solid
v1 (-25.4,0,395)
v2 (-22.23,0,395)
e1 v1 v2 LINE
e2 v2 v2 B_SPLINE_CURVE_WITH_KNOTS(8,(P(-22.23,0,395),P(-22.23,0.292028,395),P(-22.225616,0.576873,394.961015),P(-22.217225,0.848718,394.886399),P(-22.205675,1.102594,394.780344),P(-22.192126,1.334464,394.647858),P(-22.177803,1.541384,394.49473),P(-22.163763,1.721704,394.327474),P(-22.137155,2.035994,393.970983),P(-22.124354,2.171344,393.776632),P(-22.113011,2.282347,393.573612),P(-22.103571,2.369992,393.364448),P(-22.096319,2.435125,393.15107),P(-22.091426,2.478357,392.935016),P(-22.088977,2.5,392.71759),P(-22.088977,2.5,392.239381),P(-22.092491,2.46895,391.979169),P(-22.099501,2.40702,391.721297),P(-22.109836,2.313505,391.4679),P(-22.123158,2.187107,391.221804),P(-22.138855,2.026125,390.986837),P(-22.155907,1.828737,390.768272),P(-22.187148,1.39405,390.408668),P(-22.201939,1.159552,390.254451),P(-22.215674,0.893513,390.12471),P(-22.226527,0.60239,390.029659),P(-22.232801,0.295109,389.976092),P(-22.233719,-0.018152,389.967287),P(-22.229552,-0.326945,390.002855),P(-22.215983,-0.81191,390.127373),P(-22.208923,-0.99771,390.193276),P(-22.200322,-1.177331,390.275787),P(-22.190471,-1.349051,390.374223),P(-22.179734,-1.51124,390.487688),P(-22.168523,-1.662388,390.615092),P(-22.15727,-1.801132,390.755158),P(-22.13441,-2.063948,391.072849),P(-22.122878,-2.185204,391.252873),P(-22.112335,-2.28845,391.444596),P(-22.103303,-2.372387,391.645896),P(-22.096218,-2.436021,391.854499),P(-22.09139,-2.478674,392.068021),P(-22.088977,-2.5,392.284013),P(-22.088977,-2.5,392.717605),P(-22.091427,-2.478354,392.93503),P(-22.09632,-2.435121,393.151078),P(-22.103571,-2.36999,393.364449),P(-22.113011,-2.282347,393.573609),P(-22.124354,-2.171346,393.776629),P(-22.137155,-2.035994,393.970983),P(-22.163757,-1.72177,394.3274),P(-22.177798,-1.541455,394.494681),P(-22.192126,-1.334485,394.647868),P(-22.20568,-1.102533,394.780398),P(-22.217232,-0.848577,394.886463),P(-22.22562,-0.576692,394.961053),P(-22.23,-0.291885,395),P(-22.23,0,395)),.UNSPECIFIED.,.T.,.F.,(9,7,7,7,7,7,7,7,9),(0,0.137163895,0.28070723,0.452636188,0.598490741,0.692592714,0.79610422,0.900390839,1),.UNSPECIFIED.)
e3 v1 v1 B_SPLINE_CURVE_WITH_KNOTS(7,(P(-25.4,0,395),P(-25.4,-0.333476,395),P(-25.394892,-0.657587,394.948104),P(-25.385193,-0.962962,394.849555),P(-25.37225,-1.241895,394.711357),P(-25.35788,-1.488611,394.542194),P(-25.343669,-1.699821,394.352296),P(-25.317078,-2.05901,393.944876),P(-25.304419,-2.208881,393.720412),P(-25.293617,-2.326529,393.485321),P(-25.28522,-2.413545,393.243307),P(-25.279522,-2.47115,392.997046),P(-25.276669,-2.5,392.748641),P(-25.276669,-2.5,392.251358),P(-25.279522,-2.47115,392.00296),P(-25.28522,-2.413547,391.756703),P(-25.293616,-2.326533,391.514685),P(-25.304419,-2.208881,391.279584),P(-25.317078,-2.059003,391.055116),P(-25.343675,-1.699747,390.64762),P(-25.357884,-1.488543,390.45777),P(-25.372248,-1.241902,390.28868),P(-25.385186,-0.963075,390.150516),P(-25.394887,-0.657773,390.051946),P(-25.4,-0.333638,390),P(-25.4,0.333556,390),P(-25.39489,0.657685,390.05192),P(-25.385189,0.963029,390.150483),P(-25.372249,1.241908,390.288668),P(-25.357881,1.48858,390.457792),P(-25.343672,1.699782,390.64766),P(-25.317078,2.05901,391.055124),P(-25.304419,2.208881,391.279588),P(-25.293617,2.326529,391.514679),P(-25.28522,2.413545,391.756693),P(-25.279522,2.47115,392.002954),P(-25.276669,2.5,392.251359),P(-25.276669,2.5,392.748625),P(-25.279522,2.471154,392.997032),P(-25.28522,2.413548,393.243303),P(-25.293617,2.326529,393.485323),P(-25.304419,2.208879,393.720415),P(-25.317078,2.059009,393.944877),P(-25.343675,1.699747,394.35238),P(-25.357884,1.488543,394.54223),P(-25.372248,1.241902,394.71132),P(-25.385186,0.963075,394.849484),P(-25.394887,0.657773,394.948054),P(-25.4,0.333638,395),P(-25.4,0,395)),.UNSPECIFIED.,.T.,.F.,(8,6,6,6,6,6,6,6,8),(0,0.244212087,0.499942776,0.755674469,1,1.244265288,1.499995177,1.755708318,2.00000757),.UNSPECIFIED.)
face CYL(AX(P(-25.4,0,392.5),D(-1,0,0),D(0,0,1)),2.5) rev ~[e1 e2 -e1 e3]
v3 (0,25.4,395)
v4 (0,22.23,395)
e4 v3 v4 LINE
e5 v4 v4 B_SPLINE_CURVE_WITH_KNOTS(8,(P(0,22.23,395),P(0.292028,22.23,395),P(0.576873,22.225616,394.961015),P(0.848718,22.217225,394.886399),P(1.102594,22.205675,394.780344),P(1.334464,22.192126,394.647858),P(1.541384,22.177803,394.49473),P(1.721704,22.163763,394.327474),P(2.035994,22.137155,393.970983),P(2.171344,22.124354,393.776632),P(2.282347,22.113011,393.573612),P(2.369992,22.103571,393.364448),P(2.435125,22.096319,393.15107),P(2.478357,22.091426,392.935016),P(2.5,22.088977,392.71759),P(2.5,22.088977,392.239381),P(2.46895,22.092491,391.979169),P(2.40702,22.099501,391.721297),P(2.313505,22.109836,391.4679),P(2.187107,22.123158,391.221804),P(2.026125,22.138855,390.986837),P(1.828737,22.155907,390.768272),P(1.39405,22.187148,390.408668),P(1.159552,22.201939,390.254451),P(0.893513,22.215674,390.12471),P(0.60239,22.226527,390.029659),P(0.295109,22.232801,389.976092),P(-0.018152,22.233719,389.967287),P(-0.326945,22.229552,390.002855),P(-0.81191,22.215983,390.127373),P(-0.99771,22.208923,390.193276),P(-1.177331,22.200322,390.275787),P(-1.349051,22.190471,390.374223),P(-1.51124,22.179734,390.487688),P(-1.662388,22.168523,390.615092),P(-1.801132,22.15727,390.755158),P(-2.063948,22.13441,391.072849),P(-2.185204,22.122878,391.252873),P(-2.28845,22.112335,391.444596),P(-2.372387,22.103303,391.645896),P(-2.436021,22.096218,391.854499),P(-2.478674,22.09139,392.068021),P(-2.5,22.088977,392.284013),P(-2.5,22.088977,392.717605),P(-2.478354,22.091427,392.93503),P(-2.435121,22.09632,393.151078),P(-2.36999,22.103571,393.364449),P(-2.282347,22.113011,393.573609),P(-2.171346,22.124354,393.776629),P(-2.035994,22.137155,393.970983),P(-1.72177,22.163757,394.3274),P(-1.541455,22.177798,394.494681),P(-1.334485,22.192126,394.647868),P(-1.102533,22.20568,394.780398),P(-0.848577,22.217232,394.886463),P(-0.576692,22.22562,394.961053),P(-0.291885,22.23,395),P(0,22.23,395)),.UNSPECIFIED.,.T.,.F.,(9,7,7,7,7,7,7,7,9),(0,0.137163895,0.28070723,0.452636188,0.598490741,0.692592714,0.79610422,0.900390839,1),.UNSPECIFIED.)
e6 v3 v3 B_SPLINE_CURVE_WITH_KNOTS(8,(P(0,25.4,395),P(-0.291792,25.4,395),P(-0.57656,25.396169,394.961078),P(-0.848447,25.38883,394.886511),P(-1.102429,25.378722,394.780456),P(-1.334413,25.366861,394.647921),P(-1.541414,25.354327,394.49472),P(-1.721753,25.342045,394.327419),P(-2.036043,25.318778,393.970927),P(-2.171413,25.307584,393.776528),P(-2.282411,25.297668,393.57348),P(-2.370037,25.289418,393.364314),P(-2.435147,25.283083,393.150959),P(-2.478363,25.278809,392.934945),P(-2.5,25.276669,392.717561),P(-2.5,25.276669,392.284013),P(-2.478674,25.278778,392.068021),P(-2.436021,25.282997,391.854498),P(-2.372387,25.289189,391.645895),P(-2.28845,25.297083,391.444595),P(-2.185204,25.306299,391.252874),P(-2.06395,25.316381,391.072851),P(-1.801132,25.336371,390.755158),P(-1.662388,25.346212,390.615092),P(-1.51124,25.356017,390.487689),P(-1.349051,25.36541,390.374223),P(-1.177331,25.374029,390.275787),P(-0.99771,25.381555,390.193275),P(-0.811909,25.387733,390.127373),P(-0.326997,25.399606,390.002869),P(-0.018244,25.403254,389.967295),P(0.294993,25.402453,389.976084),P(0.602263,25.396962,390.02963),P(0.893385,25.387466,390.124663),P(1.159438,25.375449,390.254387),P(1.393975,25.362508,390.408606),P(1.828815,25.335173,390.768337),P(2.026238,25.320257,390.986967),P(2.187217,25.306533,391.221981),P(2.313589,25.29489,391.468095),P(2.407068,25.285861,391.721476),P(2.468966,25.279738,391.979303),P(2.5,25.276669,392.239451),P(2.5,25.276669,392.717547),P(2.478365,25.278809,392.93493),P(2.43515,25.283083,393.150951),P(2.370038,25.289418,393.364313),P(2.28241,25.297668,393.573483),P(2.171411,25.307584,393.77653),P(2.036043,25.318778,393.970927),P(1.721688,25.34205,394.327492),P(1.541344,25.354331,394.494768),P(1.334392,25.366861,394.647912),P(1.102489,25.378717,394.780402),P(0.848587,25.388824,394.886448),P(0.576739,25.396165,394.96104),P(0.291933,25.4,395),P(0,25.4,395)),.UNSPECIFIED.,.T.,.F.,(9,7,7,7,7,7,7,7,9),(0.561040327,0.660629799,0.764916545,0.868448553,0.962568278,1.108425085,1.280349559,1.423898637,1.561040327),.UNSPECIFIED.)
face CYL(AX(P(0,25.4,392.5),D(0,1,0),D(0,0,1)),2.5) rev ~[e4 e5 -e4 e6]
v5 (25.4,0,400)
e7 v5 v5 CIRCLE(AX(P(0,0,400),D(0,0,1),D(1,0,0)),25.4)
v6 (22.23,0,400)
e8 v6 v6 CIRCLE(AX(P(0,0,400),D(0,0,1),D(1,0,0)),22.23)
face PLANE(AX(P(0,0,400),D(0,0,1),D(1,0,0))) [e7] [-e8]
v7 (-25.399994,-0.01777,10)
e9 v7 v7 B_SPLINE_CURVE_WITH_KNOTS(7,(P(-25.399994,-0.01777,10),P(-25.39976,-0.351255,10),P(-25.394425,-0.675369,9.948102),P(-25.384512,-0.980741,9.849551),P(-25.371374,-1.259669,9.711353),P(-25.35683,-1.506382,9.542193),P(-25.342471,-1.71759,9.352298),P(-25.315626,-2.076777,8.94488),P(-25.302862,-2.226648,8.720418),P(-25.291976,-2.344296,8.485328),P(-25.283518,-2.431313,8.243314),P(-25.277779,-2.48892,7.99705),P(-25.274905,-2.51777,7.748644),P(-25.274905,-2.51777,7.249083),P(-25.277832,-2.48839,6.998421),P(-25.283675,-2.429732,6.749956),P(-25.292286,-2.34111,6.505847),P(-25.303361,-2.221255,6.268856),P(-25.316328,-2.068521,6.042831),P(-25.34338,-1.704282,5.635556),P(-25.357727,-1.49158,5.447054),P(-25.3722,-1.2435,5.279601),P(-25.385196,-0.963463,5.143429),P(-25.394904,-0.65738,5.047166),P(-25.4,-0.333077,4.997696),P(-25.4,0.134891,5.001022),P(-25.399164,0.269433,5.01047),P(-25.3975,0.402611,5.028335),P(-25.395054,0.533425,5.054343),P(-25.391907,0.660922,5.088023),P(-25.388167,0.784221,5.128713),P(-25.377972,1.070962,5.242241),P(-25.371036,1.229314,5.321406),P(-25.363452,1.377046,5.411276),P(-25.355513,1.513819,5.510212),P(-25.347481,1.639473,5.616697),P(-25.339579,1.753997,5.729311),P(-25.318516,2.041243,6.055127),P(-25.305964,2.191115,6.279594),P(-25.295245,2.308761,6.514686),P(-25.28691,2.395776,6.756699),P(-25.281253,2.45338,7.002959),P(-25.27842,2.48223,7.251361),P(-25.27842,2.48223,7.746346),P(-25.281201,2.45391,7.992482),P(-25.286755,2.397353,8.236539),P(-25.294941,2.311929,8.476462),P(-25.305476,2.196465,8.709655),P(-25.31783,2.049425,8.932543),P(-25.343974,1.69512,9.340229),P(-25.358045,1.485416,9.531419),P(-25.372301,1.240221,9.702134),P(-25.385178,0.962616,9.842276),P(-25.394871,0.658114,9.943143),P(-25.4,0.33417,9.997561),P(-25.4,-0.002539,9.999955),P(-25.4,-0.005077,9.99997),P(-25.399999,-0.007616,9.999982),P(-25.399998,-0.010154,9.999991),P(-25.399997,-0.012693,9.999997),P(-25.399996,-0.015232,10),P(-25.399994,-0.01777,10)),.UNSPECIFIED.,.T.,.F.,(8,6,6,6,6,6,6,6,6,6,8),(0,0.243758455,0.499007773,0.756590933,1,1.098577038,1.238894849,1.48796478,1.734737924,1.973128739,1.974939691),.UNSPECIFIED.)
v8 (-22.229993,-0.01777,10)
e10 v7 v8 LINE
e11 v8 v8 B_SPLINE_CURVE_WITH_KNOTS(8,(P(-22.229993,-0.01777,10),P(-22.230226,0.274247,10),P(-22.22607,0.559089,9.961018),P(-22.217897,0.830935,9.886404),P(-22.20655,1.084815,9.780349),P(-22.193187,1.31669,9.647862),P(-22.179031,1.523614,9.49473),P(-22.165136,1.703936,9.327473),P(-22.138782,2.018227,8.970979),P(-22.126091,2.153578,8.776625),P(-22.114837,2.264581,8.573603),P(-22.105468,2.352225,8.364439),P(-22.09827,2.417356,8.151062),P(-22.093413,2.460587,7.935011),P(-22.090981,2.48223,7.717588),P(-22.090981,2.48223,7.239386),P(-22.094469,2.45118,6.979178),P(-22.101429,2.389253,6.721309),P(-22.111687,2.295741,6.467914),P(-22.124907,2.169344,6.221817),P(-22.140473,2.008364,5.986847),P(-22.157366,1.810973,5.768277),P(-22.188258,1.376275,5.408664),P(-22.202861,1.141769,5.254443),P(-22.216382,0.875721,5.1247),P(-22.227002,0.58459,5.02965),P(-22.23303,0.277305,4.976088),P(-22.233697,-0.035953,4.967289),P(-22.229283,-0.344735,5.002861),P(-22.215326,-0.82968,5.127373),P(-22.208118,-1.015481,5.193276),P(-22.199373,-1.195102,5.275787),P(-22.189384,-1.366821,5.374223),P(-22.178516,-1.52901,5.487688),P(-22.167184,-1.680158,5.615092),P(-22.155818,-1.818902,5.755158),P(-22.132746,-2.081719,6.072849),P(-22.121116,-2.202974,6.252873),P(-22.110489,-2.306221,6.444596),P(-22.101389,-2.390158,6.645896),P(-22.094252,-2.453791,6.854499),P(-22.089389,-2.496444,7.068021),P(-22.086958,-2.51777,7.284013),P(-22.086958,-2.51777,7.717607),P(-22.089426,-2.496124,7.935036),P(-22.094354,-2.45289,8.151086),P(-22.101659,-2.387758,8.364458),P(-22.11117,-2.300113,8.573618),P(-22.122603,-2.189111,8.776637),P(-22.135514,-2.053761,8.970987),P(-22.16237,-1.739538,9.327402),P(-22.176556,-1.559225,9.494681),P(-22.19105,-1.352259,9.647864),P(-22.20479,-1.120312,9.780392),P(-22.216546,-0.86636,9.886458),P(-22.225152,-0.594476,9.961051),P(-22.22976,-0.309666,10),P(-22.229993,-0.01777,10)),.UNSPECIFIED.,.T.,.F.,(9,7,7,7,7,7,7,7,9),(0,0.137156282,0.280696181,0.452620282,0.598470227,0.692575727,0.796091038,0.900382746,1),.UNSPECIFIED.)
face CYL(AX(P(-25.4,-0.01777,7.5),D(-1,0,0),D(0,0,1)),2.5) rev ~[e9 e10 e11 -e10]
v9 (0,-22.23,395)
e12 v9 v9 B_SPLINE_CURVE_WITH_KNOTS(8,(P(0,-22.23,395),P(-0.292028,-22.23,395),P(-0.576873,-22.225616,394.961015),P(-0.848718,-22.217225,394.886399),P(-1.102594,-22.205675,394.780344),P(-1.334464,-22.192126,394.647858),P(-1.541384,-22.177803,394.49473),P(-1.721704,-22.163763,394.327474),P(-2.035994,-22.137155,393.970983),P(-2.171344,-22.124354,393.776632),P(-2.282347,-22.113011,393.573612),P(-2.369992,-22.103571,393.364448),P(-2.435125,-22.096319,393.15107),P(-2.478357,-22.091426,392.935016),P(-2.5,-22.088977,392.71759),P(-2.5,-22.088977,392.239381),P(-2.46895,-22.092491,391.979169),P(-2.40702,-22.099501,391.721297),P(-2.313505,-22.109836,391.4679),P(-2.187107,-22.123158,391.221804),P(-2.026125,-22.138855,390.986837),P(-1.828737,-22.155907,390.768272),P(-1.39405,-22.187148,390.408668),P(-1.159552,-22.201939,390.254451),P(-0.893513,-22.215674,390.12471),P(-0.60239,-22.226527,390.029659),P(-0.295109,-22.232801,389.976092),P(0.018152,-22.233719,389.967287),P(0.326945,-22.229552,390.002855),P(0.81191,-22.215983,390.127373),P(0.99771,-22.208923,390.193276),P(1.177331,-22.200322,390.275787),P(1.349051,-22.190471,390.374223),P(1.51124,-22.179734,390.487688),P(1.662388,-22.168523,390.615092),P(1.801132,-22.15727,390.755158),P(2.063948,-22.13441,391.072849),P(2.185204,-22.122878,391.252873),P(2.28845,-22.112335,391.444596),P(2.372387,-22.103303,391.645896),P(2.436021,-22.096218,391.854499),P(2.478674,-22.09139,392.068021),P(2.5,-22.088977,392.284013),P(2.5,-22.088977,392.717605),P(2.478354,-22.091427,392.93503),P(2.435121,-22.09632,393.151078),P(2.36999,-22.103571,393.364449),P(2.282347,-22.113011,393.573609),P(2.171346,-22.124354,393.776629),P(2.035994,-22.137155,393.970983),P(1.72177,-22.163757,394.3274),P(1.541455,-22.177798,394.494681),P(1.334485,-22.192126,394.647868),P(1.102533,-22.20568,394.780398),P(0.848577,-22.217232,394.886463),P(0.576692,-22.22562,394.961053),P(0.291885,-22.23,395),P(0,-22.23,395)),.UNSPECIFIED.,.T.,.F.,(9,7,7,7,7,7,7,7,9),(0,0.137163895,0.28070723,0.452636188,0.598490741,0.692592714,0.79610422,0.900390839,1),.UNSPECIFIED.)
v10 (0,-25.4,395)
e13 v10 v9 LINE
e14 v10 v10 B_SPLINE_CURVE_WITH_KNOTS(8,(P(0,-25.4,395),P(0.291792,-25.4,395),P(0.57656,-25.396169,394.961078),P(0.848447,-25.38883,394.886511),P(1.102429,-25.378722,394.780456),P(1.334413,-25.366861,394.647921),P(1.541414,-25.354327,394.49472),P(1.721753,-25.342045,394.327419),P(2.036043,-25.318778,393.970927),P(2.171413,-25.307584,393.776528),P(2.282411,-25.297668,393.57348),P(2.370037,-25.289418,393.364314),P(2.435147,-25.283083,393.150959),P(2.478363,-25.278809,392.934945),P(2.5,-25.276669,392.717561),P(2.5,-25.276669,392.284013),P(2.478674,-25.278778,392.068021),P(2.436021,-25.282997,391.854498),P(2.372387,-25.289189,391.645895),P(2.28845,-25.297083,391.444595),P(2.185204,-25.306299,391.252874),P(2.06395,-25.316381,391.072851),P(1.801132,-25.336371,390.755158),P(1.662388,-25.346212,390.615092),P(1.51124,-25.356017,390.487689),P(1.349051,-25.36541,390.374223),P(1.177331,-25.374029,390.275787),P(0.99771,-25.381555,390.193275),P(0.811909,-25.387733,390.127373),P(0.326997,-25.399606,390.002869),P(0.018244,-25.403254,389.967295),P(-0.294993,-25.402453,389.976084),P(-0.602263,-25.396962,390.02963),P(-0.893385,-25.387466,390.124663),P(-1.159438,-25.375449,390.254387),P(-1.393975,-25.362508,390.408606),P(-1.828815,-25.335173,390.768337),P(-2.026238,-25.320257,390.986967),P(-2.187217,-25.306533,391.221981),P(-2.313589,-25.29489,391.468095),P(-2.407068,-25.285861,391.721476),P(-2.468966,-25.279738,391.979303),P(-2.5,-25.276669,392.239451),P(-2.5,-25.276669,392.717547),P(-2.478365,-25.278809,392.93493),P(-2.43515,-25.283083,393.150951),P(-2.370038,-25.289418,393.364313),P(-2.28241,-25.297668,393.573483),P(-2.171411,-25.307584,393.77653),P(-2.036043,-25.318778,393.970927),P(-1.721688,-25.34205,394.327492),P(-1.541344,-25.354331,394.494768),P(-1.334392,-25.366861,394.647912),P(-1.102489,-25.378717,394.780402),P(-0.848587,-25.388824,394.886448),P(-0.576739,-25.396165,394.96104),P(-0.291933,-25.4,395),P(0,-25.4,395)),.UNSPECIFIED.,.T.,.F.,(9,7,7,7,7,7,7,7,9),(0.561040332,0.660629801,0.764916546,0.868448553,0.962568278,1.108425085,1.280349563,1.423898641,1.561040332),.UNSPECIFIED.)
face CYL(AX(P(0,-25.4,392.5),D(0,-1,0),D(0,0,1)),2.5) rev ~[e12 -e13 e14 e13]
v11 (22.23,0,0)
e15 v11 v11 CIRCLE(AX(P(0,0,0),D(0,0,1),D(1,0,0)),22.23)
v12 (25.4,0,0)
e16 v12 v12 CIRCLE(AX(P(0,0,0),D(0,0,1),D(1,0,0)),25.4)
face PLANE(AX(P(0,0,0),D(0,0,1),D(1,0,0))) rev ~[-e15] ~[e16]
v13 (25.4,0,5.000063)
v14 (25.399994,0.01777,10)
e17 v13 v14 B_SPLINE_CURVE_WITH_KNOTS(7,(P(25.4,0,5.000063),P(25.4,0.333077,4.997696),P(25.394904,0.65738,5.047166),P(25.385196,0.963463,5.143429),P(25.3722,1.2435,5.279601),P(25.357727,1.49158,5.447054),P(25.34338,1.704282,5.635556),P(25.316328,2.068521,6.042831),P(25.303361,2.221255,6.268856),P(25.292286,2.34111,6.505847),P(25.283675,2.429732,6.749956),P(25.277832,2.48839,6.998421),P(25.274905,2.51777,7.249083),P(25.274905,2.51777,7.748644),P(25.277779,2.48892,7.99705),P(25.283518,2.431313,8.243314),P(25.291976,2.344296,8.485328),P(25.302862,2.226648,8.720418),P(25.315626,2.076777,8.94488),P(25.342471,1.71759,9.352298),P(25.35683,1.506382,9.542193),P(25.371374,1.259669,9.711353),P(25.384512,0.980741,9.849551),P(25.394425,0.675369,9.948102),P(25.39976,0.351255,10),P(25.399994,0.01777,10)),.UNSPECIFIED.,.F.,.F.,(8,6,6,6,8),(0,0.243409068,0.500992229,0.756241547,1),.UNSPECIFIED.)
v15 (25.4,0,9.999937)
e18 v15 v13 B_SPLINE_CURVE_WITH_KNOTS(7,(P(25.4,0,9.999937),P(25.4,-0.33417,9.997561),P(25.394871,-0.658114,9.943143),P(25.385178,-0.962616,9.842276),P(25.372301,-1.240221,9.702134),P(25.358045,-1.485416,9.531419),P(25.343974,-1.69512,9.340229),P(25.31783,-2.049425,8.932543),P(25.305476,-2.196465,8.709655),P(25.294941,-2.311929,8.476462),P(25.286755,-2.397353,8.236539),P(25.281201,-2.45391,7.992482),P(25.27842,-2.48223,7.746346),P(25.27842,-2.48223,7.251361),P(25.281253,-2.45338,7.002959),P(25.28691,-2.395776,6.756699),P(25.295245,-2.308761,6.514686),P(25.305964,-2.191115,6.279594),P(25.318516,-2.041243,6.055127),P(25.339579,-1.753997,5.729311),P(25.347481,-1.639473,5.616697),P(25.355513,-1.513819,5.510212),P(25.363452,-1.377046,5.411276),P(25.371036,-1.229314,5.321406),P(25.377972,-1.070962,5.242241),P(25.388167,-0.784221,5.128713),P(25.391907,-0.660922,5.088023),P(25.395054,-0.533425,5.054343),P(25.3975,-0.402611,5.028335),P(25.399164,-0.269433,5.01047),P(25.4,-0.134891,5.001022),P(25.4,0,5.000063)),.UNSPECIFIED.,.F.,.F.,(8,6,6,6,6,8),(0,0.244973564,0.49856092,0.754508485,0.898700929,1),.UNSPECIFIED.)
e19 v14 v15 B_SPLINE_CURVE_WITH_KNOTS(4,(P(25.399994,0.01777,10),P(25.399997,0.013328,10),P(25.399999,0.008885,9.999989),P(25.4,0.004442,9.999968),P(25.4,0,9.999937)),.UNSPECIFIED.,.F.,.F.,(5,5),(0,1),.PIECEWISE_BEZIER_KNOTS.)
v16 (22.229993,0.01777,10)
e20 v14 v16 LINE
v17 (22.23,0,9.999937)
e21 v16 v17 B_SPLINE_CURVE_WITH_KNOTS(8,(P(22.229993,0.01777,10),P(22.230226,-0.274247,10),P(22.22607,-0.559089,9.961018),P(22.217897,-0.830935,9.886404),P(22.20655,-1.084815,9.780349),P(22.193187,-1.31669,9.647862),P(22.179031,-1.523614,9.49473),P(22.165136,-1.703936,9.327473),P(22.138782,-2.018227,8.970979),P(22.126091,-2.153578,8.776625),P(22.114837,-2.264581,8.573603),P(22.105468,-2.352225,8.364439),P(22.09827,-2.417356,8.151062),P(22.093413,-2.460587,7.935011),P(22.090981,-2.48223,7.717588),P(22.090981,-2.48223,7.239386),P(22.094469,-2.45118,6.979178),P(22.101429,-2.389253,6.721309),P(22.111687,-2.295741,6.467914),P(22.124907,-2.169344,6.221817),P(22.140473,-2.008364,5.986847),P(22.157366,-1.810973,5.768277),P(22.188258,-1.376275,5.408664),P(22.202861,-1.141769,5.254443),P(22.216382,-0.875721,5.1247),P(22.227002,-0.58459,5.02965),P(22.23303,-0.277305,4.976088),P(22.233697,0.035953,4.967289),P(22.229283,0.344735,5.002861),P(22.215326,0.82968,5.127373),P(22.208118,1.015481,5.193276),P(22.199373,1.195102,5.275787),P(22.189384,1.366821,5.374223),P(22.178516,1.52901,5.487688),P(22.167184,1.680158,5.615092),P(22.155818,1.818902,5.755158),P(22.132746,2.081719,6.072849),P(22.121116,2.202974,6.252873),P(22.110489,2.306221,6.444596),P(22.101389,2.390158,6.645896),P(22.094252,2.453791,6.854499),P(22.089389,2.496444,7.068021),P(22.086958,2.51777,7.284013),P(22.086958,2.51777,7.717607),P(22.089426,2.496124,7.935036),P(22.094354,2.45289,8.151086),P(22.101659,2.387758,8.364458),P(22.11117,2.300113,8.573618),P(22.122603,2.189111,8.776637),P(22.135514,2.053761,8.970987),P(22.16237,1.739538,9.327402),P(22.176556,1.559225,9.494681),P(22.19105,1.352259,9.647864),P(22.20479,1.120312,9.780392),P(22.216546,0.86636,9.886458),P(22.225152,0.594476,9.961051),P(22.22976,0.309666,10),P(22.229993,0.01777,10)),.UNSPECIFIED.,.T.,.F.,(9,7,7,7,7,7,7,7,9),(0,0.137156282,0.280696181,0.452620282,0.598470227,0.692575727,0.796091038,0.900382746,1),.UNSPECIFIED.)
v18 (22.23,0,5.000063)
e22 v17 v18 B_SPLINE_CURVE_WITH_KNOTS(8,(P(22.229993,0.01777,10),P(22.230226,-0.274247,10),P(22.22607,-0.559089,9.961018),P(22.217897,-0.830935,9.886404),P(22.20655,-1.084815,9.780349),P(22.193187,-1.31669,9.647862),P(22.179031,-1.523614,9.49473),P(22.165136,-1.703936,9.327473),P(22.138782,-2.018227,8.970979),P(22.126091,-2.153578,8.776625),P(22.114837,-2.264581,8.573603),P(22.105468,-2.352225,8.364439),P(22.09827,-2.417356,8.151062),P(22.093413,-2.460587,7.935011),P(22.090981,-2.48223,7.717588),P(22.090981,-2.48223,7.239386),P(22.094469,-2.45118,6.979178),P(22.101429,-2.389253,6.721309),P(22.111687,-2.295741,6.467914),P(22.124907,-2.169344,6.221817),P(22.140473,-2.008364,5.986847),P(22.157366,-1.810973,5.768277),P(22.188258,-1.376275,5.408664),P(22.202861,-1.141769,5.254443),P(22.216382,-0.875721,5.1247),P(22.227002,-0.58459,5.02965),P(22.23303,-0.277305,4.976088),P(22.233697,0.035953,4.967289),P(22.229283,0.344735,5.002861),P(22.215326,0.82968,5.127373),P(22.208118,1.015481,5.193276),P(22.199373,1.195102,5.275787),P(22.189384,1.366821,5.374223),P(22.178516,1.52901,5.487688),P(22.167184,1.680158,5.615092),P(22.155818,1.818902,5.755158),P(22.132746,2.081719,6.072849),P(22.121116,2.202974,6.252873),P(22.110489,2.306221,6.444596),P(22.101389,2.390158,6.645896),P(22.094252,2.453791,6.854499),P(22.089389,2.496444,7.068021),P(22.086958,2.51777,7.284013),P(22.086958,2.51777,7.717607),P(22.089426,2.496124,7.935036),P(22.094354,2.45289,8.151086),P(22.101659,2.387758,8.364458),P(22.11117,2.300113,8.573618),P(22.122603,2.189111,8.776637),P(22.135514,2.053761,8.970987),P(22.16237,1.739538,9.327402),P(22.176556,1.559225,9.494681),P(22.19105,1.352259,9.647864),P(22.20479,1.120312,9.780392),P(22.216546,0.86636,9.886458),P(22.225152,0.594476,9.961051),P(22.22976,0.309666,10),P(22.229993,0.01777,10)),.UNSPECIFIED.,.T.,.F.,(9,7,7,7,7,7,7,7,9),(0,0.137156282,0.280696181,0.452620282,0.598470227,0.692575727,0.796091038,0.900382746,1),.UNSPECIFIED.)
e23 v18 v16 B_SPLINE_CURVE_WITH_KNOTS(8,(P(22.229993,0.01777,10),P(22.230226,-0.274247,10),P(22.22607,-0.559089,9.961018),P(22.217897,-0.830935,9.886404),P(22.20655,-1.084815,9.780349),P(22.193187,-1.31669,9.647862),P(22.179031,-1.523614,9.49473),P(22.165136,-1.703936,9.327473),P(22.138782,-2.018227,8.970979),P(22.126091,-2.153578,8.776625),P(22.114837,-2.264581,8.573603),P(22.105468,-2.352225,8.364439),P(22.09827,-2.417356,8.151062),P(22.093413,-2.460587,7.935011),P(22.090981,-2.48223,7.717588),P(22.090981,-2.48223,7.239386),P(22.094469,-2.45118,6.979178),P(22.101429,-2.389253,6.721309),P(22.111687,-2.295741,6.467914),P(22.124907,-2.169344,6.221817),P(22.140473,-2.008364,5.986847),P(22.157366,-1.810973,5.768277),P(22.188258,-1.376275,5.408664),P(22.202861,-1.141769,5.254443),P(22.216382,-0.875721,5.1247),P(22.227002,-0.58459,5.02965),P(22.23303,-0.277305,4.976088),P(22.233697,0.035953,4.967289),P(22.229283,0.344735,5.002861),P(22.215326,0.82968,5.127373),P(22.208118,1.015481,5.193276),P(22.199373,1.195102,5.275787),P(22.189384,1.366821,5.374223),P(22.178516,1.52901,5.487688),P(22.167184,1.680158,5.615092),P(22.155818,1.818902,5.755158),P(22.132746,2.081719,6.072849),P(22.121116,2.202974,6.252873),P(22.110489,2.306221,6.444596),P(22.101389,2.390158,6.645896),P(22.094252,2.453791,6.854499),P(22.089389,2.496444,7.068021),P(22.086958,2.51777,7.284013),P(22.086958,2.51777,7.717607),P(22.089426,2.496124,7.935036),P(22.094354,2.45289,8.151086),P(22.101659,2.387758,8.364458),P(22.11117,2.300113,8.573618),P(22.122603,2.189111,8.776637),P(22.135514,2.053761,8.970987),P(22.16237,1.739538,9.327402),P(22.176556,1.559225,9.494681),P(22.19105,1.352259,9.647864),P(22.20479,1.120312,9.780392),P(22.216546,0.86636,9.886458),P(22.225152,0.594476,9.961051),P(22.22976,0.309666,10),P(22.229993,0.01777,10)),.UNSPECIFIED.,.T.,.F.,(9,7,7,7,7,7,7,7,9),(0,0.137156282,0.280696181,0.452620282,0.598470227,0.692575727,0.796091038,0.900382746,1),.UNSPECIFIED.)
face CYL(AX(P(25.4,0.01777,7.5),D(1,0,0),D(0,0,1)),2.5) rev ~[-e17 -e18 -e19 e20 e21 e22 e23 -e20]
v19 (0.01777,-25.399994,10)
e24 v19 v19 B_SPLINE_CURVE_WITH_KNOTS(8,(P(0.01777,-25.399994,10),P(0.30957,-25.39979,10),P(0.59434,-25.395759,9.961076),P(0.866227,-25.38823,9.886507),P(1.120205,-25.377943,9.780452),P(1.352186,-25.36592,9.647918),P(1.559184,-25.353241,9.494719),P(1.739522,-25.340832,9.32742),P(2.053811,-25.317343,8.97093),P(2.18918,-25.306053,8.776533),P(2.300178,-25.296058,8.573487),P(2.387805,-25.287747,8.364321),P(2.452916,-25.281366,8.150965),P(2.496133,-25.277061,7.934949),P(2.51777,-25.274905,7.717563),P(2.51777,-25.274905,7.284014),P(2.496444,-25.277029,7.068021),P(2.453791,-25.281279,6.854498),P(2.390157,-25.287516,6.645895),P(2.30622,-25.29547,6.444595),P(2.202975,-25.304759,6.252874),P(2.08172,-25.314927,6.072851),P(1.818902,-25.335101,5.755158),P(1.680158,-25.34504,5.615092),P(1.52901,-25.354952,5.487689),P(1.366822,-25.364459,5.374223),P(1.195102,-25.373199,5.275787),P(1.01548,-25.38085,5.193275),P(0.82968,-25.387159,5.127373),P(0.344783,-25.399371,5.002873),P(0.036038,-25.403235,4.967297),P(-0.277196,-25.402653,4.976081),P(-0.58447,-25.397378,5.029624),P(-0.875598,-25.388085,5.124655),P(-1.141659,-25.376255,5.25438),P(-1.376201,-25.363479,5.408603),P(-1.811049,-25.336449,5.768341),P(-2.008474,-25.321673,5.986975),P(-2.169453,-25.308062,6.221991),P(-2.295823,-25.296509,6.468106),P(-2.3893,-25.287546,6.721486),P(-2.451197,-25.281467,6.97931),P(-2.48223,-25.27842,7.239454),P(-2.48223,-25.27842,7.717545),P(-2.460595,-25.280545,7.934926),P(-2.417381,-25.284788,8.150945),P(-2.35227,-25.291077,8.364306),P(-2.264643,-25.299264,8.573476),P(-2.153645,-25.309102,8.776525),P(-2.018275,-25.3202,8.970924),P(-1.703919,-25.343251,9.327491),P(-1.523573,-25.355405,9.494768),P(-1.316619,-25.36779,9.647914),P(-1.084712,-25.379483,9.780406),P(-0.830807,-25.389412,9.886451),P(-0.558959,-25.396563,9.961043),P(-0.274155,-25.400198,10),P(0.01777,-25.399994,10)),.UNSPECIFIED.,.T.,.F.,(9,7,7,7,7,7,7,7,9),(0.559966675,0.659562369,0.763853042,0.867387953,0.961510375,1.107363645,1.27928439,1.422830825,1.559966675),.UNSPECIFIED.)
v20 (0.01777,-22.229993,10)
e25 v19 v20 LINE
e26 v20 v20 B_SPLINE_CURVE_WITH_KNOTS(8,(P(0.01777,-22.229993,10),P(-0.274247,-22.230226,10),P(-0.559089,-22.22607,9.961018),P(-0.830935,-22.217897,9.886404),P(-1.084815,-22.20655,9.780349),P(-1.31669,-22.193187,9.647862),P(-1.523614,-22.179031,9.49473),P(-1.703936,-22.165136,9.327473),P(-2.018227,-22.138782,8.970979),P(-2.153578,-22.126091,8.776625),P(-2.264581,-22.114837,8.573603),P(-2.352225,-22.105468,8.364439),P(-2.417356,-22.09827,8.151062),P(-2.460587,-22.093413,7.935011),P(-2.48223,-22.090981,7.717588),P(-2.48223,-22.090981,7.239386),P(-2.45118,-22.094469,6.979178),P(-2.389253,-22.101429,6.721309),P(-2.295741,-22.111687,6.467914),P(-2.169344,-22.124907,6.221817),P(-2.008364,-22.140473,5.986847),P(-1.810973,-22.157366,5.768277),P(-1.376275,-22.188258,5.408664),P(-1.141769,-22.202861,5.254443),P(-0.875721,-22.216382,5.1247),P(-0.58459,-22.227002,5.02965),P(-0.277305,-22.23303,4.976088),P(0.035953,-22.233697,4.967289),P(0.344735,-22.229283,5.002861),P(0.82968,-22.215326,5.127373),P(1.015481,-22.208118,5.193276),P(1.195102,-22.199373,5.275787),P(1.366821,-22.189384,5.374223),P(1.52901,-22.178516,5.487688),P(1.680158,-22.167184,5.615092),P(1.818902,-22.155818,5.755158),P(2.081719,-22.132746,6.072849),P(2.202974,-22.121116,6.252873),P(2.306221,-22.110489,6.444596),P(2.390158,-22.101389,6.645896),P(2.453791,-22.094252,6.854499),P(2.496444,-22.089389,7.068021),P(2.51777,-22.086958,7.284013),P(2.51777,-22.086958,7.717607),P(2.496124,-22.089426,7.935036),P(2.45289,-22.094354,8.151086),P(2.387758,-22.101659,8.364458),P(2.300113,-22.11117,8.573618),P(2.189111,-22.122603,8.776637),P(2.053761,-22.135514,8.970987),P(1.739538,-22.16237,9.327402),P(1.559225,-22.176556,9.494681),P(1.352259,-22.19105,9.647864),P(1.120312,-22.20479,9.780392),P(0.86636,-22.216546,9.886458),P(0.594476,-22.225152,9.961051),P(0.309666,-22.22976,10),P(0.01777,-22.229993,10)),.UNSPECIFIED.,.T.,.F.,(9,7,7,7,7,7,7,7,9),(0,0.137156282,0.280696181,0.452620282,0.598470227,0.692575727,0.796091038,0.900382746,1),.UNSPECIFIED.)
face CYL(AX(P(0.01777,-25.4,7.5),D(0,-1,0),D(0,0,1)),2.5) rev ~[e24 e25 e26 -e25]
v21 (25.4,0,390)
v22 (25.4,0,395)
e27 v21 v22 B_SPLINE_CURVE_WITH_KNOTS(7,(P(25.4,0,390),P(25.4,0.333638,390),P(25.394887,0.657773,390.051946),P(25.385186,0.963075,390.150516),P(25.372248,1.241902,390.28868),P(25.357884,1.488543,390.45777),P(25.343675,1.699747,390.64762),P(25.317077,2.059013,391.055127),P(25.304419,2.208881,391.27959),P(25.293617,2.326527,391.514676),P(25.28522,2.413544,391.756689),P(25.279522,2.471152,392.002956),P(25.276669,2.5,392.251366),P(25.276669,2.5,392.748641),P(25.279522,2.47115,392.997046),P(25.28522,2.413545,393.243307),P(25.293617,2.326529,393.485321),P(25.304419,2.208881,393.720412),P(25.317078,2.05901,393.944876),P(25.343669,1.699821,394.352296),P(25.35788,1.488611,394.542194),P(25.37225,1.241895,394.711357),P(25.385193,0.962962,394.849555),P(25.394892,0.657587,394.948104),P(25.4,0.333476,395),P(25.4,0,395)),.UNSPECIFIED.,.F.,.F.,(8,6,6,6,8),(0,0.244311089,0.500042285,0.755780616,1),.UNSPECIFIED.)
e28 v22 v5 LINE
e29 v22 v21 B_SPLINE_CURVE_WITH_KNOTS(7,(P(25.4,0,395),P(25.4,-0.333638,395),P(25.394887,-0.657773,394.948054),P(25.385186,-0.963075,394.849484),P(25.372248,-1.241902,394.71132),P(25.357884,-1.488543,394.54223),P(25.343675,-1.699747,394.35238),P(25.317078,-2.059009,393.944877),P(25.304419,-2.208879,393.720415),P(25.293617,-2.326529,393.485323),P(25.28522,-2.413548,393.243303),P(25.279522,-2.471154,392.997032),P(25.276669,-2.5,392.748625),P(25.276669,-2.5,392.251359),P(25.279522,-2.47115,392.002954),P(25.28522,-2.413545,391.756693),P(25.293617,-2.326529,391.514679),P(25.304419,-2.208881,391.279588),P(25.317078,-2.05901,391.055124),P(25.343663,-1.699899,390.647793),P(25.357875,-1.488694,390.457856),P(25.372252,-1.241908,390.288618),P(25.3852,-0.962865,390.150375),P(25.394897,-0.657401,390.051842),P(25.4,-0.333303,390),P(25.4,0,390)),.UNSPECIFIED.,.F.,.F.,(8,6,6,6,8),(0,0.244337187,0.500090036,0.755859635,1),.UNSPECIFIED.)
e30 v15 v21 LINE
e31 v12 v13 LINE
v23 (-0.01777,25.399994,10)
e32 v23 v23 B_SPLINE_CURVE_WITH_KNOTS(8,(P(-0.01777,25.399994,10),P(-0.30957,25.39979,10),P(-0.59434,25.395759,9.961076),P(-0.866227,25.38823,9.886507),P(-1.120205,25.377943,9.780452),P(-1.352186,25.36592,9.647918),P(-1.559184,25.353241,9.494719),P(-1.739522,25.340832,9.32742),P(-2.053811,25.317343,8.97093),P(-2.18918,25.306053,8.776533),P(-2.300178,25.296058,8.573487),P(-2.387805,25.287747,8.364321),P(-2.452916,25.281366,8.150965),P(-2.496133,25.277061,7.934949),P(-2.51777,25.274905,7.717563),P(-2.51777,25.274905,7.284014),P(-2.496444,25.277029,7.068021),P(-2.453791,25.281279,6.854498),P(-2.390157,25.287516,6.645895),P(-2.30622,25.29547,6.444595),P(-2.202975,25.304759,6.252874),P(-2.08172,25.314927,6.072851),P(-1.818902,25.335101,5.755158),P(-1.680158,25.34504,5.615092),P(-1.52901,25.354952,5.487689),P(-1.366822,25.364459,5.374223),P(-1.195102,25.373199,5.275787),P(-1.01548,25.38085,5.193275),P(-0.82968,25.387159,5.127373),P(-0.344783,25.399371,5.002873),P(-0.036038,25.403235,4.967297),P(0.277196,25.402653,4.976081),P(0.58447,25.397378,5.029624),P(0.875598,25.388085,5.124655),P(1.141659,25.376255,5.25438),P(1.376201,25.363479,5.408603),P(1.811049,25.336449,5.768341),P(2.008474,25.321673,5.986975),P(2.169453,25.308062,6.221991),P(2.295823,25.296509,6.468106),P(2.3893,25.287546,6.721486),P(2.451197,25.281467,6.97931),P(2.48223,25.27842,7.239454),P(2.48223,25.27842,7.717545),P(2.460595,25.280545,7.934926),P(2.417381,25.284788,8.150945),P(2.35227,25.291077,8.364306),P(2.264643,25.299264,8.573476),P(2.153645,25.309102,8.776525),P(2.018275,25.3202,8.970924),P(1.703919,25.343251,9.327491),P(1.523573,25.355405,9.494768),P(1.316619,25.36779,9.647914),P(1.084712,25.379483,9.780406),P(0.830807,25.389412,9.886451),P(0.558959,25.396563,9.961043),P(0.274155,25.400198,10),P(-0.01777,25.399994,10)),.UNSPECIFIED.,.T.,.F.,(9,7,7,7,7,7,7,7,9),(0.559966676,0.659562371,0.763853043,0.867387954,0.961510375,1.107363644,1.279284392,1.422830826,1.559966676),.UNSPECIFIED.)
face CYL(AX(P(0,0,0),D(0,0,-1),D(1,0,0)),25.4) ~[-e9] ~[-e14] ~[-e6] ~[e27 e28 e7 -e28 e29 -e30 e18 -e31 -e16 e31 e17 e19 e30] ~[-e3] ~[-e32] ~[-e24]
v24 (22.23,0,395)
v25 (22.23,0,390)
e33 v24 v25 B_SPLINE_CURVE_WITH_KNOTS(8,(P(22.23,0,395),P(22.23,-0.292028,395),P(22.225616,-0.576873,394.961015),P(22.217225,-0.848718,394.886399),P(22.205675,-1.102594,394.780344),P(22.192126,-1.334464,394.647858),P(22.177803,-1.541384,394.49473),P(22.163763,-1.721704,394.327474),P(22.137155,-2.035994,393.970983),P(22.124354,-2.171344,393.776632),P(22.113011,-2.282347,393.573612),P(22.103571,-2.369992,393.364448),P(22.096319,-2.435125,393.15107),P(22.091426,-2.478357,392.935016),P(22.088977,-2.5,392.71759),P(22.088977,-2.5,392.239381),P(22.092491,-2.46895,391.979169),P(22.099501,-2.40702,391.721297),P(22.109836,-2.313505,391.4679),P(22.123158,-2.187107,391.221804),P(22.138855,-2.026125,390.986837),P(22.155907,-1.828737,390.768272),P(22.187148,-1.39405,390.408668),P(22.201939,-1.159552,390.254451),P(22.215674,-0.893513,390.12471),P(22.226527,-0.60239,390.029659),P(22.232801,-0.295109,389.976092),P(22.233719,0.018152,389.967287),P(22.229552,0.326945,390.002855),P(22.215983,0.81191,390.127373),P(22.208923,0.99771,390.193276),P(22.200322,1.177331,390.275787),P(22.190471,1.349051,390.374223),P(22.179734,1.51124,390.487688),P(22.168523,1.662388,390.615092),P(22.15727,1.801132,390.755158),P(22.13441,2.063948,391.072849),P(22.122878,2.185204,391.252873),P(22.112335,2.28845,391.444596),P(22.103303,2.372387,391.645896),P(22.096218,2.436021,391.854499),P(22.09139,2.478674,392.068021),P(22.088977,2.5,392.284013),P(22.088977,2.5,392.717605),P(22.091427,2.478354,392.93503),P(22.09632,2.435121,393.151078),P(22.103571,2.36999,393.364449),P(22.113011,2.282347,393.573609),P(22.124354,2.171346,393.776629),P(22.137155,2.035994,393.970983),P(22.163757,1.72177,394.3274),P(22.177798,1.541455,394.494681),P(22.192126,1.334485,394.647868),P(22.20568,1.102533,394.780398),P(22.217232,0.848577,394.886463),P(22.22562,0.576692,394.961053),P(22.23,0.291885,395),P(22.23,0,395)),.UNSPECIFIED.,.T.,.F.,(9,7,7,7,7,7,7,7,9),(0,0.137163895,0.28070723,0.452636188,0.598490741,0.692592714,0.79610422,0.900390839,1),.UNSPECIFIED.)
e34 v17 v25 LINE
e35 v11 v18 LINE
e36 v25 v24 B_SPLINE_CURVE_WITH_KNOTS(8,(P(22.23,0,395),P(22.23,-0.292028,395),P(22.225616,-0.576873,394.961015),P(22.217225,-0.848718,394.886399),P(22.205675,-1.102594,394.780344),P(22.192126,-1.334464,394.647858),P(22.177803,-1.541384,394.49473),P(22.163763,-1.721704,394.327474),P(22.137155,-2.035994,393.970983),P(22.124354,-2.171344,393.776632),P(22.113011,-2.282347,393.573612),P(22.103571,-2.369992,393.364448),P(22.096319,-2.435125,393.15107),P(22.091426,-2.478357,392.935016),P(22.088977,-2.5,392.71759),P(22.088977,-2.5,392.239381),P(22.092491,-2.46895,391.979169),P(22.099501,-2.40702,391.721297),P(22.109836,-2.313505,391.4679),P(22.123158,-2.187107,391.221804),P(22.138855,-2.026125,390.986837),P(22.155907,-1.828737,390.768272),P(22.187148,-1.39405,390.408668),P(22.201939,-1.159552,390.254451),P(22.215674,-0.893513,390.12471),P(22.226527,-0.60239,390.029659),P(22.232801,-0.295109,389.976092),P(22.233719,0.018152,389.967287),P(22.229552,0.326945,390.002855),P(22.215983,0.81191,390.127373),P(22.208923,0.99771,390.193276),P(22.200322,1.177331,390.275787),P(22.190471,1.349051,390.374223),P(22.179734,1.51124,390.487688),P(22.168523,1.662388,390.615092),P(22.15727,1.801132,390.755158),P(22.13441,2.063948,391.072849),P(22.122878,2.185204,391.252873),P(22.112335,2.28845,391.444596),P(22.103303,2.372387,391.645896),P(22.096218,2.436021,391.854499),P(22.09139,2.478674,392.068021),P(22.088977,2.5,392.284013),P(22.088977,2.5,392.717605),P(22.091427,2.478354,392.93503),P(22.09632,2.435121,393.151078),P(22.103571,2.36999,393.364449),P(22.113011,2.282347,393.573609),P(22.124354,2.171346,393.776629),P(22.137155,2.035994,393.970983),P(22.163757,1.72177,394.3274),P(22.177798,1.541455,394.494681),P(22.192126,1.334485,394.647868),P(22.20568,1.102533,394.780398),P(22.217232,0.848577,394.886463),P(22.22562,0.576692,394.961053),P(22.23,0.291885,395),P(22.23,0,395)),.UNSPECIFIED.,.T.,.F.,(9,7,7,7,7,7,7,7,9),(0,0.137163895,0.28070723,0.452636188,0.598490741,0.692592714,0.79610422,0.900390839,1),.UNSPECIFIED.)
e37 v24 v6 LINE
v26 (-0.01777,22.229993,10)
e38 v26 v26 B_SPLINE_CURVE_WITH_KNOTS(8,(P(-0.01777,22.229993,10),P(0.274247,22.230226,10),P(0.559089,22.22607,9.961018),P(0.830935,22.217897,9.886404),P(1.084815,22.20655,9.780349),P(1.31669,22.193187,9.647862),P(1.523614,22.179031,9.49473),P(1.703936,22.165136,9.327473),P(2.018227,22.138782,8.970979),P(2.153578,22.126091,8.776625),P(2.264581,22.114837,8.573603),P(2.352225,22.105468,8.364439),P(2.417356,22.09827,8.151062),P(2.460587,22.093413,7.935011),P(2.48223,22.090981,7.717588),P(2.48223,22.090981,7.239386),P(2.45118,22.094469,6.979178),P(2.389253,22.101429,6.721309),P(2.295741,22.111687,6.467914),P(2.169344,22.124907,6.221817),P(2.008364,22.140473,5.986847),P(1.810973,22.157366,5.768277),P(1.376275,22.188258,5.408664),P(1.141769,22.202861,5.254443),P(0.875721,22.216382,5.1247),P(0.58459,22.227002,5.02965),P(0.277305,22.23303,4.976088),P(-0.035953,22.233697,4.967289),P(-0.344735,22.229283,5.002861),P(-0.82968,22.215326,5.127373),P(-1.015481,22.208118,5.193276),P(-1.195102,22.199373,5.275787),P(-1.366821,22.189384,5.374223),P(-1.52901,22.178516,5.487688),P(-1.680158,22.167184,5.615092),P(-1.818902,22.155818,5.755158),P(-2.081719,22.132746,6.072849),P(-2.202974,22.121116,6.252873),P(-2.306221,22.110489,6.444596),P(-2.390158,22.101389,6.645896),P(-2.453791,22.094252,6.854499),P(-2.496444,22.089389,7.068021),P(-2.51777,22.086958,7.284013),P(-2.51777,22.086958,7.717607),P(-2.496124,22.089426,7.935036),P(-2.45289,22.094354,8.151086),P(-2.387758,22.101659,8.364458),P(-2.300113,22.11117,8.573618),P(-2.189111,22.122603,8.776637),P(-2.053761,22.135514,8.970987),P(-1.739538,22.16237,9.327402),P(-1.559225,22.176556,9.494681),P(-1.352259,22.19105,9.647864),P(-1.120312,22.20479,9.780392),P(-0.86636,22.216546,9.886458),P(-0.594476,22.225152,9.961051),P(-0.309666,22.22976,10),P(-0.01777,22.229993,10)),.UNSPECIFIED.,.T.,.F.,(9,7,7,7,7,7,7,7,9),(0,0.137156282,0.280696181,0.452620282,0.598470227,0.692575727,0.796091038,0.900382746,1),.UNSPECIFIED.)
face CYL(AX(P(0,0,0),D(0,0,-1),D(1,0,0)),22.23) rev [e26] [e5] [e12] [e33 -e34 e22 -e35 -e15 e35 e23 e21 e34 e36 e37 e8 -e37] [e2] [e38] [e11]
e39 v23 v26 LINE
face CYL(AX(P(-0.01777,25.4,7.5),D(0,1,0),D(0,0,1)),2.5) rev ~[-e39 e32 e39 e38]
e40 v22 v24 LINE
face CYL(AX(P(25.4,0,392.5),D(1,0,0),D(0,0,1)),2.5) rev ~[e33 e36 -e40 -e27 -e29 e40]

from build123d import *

# Parameters (mm, degrees)
ESBO_O1_R                  = 25.4
ESBO_O1_R_2                = 22.23
RESSALTO_EXTRUS_O1_DEPTH   = 400
CORTE_EXTRUS_O1_REACH      = 406.012
CORTE_EXTRUS_O1_END_RADIUS = 22.23
ESBO_O3_R                  = 2.5
PADR_OCIRCULAR1_COUNT      = 4
CORTE_EXTRUS_O2_REACH      = 406.012
CORTE_EXTRUS_O2_END_RADIUS = 22.23
ESBO_O4_R                  = 2.5
PADR_OCIRCULAR2_COUNT      = 4


with BuildPart() as part:
    # Esbo_o1 → Ressalto-extrus_o1 (new body)
    with BuildSketch(Plane.XY):
        Circle(ESBO_O1_R)
        Circle(ESBO_O1_R_2, mode=Mode.SUBTRACT)
    extrude(amount=RESSALTO_EXTRUS_O1_DEPTH)

    # Corte-extrus_o1: up to this cylinder (the profile starts outside it)
    corte_extrus_o1_end = Plane(origin=(0, 0, 392.5), z_dir=(0, 0, -1)) * Cylinder(CORTE_EXTRUS_O1_END_RADIUS, 857.484, mode=Mode.PRIVATE)
    # Esbo_o3 → Corte-extrus_o1 (cut, up to the surface)
    with BuildSketch(Plane(origin=(0, 25.4, 0), x_dir=(1, 0, 0), z_dir=(0, 1, 0)), mode=Mode.PRIVATE) as corte_extrus_o1_sk1:
        with Locations(Location((0, -392.5, 0), (0, 0, 270))):
            Circle(ESBO_O3_R)
    corte_extrus_o1_tool1 = extrude(corte_extrus_o1_sk1.sketch, amount=-CORTE_EXTRUS_O1_REACH, mode=Mode.PRIVATE) - corte_extrus_o1_end
    corte_extrus_o1 = corte_extrus_o1_tool1.solids().sort_by_distance((0, 25.4, 392.5))[0]
    add(corte_extrus_o1, mode=Mode.SUBTRACT)

    # Padr_oCircular1: Corte-extrus_o1 ×4 about axis
    padr_ocircular1_axis = Axis((0, 0, 400), (0, 0, 1))
    for i in range(1, PADR_OCIRCULAR1_COUNT):
        add(corte_extrus_o1.rotate(padr_ocircular1_axis, i * 360 / PADR_OCIRCULAR1_COUNT), mode=Mode.SUBTRACT)

    # Corte-extrus_o2: up to this cylinder (the profile starts outside it)
    corte_extrus_o2_end = Plane(origin=(0, 0, 7.5), z_dir=(0, 0, -1)) * Cylinder(CORTE_EXTRUS_O2_END_RADIUS, 857.484, mode=Mode.PRIVATE)
    # Esbo_o4 → Corte-extrus_o2 (cut, up to the surface)
    with BuildSketch(Plane(origin=(0, 25.4, 0), x_dir=(1, 0, 0), z_dir=(0, 1, 0)), mode=Mode.PRIVATE) as corte_extrus_o2_sk1:
        with Locations(Location((-0.017770346, -7.5, 0), (0, 0, 270))):
            Circle(ESBO_O4_R)
    corte_extrus_o2_tool1 = extrude(corte_extrus_o2_sk1.sketch, amount=-CORTE_EXTRUS_O2_REACH, mode=Mode.PRIVATE) - corte_extrus_o2_end
    corte_extrus_o2 = corte_extrus_o2_tool1.solids().sort_by_distance((-0.01777, 25.4, 7.5))[0]
    add(corte_extrus_o2, mode=Mode.SUBTRACT)

    # Padr_oCircular2: Corte-extrus_o2 ×4 about axis
    padr_ocircular2_axis = Axis((0, 0, 0), (0, 0, 1))
    for i in range(1, PADR_OCIRCULAR2_COUNT):
        add(corte_extrus_o2.rotate(padr_ocircular2_axis, i * 360 / PADR_OCIRCULAR2_COUNT), mode=Mode.SUBTRACT)


solid = part.part
